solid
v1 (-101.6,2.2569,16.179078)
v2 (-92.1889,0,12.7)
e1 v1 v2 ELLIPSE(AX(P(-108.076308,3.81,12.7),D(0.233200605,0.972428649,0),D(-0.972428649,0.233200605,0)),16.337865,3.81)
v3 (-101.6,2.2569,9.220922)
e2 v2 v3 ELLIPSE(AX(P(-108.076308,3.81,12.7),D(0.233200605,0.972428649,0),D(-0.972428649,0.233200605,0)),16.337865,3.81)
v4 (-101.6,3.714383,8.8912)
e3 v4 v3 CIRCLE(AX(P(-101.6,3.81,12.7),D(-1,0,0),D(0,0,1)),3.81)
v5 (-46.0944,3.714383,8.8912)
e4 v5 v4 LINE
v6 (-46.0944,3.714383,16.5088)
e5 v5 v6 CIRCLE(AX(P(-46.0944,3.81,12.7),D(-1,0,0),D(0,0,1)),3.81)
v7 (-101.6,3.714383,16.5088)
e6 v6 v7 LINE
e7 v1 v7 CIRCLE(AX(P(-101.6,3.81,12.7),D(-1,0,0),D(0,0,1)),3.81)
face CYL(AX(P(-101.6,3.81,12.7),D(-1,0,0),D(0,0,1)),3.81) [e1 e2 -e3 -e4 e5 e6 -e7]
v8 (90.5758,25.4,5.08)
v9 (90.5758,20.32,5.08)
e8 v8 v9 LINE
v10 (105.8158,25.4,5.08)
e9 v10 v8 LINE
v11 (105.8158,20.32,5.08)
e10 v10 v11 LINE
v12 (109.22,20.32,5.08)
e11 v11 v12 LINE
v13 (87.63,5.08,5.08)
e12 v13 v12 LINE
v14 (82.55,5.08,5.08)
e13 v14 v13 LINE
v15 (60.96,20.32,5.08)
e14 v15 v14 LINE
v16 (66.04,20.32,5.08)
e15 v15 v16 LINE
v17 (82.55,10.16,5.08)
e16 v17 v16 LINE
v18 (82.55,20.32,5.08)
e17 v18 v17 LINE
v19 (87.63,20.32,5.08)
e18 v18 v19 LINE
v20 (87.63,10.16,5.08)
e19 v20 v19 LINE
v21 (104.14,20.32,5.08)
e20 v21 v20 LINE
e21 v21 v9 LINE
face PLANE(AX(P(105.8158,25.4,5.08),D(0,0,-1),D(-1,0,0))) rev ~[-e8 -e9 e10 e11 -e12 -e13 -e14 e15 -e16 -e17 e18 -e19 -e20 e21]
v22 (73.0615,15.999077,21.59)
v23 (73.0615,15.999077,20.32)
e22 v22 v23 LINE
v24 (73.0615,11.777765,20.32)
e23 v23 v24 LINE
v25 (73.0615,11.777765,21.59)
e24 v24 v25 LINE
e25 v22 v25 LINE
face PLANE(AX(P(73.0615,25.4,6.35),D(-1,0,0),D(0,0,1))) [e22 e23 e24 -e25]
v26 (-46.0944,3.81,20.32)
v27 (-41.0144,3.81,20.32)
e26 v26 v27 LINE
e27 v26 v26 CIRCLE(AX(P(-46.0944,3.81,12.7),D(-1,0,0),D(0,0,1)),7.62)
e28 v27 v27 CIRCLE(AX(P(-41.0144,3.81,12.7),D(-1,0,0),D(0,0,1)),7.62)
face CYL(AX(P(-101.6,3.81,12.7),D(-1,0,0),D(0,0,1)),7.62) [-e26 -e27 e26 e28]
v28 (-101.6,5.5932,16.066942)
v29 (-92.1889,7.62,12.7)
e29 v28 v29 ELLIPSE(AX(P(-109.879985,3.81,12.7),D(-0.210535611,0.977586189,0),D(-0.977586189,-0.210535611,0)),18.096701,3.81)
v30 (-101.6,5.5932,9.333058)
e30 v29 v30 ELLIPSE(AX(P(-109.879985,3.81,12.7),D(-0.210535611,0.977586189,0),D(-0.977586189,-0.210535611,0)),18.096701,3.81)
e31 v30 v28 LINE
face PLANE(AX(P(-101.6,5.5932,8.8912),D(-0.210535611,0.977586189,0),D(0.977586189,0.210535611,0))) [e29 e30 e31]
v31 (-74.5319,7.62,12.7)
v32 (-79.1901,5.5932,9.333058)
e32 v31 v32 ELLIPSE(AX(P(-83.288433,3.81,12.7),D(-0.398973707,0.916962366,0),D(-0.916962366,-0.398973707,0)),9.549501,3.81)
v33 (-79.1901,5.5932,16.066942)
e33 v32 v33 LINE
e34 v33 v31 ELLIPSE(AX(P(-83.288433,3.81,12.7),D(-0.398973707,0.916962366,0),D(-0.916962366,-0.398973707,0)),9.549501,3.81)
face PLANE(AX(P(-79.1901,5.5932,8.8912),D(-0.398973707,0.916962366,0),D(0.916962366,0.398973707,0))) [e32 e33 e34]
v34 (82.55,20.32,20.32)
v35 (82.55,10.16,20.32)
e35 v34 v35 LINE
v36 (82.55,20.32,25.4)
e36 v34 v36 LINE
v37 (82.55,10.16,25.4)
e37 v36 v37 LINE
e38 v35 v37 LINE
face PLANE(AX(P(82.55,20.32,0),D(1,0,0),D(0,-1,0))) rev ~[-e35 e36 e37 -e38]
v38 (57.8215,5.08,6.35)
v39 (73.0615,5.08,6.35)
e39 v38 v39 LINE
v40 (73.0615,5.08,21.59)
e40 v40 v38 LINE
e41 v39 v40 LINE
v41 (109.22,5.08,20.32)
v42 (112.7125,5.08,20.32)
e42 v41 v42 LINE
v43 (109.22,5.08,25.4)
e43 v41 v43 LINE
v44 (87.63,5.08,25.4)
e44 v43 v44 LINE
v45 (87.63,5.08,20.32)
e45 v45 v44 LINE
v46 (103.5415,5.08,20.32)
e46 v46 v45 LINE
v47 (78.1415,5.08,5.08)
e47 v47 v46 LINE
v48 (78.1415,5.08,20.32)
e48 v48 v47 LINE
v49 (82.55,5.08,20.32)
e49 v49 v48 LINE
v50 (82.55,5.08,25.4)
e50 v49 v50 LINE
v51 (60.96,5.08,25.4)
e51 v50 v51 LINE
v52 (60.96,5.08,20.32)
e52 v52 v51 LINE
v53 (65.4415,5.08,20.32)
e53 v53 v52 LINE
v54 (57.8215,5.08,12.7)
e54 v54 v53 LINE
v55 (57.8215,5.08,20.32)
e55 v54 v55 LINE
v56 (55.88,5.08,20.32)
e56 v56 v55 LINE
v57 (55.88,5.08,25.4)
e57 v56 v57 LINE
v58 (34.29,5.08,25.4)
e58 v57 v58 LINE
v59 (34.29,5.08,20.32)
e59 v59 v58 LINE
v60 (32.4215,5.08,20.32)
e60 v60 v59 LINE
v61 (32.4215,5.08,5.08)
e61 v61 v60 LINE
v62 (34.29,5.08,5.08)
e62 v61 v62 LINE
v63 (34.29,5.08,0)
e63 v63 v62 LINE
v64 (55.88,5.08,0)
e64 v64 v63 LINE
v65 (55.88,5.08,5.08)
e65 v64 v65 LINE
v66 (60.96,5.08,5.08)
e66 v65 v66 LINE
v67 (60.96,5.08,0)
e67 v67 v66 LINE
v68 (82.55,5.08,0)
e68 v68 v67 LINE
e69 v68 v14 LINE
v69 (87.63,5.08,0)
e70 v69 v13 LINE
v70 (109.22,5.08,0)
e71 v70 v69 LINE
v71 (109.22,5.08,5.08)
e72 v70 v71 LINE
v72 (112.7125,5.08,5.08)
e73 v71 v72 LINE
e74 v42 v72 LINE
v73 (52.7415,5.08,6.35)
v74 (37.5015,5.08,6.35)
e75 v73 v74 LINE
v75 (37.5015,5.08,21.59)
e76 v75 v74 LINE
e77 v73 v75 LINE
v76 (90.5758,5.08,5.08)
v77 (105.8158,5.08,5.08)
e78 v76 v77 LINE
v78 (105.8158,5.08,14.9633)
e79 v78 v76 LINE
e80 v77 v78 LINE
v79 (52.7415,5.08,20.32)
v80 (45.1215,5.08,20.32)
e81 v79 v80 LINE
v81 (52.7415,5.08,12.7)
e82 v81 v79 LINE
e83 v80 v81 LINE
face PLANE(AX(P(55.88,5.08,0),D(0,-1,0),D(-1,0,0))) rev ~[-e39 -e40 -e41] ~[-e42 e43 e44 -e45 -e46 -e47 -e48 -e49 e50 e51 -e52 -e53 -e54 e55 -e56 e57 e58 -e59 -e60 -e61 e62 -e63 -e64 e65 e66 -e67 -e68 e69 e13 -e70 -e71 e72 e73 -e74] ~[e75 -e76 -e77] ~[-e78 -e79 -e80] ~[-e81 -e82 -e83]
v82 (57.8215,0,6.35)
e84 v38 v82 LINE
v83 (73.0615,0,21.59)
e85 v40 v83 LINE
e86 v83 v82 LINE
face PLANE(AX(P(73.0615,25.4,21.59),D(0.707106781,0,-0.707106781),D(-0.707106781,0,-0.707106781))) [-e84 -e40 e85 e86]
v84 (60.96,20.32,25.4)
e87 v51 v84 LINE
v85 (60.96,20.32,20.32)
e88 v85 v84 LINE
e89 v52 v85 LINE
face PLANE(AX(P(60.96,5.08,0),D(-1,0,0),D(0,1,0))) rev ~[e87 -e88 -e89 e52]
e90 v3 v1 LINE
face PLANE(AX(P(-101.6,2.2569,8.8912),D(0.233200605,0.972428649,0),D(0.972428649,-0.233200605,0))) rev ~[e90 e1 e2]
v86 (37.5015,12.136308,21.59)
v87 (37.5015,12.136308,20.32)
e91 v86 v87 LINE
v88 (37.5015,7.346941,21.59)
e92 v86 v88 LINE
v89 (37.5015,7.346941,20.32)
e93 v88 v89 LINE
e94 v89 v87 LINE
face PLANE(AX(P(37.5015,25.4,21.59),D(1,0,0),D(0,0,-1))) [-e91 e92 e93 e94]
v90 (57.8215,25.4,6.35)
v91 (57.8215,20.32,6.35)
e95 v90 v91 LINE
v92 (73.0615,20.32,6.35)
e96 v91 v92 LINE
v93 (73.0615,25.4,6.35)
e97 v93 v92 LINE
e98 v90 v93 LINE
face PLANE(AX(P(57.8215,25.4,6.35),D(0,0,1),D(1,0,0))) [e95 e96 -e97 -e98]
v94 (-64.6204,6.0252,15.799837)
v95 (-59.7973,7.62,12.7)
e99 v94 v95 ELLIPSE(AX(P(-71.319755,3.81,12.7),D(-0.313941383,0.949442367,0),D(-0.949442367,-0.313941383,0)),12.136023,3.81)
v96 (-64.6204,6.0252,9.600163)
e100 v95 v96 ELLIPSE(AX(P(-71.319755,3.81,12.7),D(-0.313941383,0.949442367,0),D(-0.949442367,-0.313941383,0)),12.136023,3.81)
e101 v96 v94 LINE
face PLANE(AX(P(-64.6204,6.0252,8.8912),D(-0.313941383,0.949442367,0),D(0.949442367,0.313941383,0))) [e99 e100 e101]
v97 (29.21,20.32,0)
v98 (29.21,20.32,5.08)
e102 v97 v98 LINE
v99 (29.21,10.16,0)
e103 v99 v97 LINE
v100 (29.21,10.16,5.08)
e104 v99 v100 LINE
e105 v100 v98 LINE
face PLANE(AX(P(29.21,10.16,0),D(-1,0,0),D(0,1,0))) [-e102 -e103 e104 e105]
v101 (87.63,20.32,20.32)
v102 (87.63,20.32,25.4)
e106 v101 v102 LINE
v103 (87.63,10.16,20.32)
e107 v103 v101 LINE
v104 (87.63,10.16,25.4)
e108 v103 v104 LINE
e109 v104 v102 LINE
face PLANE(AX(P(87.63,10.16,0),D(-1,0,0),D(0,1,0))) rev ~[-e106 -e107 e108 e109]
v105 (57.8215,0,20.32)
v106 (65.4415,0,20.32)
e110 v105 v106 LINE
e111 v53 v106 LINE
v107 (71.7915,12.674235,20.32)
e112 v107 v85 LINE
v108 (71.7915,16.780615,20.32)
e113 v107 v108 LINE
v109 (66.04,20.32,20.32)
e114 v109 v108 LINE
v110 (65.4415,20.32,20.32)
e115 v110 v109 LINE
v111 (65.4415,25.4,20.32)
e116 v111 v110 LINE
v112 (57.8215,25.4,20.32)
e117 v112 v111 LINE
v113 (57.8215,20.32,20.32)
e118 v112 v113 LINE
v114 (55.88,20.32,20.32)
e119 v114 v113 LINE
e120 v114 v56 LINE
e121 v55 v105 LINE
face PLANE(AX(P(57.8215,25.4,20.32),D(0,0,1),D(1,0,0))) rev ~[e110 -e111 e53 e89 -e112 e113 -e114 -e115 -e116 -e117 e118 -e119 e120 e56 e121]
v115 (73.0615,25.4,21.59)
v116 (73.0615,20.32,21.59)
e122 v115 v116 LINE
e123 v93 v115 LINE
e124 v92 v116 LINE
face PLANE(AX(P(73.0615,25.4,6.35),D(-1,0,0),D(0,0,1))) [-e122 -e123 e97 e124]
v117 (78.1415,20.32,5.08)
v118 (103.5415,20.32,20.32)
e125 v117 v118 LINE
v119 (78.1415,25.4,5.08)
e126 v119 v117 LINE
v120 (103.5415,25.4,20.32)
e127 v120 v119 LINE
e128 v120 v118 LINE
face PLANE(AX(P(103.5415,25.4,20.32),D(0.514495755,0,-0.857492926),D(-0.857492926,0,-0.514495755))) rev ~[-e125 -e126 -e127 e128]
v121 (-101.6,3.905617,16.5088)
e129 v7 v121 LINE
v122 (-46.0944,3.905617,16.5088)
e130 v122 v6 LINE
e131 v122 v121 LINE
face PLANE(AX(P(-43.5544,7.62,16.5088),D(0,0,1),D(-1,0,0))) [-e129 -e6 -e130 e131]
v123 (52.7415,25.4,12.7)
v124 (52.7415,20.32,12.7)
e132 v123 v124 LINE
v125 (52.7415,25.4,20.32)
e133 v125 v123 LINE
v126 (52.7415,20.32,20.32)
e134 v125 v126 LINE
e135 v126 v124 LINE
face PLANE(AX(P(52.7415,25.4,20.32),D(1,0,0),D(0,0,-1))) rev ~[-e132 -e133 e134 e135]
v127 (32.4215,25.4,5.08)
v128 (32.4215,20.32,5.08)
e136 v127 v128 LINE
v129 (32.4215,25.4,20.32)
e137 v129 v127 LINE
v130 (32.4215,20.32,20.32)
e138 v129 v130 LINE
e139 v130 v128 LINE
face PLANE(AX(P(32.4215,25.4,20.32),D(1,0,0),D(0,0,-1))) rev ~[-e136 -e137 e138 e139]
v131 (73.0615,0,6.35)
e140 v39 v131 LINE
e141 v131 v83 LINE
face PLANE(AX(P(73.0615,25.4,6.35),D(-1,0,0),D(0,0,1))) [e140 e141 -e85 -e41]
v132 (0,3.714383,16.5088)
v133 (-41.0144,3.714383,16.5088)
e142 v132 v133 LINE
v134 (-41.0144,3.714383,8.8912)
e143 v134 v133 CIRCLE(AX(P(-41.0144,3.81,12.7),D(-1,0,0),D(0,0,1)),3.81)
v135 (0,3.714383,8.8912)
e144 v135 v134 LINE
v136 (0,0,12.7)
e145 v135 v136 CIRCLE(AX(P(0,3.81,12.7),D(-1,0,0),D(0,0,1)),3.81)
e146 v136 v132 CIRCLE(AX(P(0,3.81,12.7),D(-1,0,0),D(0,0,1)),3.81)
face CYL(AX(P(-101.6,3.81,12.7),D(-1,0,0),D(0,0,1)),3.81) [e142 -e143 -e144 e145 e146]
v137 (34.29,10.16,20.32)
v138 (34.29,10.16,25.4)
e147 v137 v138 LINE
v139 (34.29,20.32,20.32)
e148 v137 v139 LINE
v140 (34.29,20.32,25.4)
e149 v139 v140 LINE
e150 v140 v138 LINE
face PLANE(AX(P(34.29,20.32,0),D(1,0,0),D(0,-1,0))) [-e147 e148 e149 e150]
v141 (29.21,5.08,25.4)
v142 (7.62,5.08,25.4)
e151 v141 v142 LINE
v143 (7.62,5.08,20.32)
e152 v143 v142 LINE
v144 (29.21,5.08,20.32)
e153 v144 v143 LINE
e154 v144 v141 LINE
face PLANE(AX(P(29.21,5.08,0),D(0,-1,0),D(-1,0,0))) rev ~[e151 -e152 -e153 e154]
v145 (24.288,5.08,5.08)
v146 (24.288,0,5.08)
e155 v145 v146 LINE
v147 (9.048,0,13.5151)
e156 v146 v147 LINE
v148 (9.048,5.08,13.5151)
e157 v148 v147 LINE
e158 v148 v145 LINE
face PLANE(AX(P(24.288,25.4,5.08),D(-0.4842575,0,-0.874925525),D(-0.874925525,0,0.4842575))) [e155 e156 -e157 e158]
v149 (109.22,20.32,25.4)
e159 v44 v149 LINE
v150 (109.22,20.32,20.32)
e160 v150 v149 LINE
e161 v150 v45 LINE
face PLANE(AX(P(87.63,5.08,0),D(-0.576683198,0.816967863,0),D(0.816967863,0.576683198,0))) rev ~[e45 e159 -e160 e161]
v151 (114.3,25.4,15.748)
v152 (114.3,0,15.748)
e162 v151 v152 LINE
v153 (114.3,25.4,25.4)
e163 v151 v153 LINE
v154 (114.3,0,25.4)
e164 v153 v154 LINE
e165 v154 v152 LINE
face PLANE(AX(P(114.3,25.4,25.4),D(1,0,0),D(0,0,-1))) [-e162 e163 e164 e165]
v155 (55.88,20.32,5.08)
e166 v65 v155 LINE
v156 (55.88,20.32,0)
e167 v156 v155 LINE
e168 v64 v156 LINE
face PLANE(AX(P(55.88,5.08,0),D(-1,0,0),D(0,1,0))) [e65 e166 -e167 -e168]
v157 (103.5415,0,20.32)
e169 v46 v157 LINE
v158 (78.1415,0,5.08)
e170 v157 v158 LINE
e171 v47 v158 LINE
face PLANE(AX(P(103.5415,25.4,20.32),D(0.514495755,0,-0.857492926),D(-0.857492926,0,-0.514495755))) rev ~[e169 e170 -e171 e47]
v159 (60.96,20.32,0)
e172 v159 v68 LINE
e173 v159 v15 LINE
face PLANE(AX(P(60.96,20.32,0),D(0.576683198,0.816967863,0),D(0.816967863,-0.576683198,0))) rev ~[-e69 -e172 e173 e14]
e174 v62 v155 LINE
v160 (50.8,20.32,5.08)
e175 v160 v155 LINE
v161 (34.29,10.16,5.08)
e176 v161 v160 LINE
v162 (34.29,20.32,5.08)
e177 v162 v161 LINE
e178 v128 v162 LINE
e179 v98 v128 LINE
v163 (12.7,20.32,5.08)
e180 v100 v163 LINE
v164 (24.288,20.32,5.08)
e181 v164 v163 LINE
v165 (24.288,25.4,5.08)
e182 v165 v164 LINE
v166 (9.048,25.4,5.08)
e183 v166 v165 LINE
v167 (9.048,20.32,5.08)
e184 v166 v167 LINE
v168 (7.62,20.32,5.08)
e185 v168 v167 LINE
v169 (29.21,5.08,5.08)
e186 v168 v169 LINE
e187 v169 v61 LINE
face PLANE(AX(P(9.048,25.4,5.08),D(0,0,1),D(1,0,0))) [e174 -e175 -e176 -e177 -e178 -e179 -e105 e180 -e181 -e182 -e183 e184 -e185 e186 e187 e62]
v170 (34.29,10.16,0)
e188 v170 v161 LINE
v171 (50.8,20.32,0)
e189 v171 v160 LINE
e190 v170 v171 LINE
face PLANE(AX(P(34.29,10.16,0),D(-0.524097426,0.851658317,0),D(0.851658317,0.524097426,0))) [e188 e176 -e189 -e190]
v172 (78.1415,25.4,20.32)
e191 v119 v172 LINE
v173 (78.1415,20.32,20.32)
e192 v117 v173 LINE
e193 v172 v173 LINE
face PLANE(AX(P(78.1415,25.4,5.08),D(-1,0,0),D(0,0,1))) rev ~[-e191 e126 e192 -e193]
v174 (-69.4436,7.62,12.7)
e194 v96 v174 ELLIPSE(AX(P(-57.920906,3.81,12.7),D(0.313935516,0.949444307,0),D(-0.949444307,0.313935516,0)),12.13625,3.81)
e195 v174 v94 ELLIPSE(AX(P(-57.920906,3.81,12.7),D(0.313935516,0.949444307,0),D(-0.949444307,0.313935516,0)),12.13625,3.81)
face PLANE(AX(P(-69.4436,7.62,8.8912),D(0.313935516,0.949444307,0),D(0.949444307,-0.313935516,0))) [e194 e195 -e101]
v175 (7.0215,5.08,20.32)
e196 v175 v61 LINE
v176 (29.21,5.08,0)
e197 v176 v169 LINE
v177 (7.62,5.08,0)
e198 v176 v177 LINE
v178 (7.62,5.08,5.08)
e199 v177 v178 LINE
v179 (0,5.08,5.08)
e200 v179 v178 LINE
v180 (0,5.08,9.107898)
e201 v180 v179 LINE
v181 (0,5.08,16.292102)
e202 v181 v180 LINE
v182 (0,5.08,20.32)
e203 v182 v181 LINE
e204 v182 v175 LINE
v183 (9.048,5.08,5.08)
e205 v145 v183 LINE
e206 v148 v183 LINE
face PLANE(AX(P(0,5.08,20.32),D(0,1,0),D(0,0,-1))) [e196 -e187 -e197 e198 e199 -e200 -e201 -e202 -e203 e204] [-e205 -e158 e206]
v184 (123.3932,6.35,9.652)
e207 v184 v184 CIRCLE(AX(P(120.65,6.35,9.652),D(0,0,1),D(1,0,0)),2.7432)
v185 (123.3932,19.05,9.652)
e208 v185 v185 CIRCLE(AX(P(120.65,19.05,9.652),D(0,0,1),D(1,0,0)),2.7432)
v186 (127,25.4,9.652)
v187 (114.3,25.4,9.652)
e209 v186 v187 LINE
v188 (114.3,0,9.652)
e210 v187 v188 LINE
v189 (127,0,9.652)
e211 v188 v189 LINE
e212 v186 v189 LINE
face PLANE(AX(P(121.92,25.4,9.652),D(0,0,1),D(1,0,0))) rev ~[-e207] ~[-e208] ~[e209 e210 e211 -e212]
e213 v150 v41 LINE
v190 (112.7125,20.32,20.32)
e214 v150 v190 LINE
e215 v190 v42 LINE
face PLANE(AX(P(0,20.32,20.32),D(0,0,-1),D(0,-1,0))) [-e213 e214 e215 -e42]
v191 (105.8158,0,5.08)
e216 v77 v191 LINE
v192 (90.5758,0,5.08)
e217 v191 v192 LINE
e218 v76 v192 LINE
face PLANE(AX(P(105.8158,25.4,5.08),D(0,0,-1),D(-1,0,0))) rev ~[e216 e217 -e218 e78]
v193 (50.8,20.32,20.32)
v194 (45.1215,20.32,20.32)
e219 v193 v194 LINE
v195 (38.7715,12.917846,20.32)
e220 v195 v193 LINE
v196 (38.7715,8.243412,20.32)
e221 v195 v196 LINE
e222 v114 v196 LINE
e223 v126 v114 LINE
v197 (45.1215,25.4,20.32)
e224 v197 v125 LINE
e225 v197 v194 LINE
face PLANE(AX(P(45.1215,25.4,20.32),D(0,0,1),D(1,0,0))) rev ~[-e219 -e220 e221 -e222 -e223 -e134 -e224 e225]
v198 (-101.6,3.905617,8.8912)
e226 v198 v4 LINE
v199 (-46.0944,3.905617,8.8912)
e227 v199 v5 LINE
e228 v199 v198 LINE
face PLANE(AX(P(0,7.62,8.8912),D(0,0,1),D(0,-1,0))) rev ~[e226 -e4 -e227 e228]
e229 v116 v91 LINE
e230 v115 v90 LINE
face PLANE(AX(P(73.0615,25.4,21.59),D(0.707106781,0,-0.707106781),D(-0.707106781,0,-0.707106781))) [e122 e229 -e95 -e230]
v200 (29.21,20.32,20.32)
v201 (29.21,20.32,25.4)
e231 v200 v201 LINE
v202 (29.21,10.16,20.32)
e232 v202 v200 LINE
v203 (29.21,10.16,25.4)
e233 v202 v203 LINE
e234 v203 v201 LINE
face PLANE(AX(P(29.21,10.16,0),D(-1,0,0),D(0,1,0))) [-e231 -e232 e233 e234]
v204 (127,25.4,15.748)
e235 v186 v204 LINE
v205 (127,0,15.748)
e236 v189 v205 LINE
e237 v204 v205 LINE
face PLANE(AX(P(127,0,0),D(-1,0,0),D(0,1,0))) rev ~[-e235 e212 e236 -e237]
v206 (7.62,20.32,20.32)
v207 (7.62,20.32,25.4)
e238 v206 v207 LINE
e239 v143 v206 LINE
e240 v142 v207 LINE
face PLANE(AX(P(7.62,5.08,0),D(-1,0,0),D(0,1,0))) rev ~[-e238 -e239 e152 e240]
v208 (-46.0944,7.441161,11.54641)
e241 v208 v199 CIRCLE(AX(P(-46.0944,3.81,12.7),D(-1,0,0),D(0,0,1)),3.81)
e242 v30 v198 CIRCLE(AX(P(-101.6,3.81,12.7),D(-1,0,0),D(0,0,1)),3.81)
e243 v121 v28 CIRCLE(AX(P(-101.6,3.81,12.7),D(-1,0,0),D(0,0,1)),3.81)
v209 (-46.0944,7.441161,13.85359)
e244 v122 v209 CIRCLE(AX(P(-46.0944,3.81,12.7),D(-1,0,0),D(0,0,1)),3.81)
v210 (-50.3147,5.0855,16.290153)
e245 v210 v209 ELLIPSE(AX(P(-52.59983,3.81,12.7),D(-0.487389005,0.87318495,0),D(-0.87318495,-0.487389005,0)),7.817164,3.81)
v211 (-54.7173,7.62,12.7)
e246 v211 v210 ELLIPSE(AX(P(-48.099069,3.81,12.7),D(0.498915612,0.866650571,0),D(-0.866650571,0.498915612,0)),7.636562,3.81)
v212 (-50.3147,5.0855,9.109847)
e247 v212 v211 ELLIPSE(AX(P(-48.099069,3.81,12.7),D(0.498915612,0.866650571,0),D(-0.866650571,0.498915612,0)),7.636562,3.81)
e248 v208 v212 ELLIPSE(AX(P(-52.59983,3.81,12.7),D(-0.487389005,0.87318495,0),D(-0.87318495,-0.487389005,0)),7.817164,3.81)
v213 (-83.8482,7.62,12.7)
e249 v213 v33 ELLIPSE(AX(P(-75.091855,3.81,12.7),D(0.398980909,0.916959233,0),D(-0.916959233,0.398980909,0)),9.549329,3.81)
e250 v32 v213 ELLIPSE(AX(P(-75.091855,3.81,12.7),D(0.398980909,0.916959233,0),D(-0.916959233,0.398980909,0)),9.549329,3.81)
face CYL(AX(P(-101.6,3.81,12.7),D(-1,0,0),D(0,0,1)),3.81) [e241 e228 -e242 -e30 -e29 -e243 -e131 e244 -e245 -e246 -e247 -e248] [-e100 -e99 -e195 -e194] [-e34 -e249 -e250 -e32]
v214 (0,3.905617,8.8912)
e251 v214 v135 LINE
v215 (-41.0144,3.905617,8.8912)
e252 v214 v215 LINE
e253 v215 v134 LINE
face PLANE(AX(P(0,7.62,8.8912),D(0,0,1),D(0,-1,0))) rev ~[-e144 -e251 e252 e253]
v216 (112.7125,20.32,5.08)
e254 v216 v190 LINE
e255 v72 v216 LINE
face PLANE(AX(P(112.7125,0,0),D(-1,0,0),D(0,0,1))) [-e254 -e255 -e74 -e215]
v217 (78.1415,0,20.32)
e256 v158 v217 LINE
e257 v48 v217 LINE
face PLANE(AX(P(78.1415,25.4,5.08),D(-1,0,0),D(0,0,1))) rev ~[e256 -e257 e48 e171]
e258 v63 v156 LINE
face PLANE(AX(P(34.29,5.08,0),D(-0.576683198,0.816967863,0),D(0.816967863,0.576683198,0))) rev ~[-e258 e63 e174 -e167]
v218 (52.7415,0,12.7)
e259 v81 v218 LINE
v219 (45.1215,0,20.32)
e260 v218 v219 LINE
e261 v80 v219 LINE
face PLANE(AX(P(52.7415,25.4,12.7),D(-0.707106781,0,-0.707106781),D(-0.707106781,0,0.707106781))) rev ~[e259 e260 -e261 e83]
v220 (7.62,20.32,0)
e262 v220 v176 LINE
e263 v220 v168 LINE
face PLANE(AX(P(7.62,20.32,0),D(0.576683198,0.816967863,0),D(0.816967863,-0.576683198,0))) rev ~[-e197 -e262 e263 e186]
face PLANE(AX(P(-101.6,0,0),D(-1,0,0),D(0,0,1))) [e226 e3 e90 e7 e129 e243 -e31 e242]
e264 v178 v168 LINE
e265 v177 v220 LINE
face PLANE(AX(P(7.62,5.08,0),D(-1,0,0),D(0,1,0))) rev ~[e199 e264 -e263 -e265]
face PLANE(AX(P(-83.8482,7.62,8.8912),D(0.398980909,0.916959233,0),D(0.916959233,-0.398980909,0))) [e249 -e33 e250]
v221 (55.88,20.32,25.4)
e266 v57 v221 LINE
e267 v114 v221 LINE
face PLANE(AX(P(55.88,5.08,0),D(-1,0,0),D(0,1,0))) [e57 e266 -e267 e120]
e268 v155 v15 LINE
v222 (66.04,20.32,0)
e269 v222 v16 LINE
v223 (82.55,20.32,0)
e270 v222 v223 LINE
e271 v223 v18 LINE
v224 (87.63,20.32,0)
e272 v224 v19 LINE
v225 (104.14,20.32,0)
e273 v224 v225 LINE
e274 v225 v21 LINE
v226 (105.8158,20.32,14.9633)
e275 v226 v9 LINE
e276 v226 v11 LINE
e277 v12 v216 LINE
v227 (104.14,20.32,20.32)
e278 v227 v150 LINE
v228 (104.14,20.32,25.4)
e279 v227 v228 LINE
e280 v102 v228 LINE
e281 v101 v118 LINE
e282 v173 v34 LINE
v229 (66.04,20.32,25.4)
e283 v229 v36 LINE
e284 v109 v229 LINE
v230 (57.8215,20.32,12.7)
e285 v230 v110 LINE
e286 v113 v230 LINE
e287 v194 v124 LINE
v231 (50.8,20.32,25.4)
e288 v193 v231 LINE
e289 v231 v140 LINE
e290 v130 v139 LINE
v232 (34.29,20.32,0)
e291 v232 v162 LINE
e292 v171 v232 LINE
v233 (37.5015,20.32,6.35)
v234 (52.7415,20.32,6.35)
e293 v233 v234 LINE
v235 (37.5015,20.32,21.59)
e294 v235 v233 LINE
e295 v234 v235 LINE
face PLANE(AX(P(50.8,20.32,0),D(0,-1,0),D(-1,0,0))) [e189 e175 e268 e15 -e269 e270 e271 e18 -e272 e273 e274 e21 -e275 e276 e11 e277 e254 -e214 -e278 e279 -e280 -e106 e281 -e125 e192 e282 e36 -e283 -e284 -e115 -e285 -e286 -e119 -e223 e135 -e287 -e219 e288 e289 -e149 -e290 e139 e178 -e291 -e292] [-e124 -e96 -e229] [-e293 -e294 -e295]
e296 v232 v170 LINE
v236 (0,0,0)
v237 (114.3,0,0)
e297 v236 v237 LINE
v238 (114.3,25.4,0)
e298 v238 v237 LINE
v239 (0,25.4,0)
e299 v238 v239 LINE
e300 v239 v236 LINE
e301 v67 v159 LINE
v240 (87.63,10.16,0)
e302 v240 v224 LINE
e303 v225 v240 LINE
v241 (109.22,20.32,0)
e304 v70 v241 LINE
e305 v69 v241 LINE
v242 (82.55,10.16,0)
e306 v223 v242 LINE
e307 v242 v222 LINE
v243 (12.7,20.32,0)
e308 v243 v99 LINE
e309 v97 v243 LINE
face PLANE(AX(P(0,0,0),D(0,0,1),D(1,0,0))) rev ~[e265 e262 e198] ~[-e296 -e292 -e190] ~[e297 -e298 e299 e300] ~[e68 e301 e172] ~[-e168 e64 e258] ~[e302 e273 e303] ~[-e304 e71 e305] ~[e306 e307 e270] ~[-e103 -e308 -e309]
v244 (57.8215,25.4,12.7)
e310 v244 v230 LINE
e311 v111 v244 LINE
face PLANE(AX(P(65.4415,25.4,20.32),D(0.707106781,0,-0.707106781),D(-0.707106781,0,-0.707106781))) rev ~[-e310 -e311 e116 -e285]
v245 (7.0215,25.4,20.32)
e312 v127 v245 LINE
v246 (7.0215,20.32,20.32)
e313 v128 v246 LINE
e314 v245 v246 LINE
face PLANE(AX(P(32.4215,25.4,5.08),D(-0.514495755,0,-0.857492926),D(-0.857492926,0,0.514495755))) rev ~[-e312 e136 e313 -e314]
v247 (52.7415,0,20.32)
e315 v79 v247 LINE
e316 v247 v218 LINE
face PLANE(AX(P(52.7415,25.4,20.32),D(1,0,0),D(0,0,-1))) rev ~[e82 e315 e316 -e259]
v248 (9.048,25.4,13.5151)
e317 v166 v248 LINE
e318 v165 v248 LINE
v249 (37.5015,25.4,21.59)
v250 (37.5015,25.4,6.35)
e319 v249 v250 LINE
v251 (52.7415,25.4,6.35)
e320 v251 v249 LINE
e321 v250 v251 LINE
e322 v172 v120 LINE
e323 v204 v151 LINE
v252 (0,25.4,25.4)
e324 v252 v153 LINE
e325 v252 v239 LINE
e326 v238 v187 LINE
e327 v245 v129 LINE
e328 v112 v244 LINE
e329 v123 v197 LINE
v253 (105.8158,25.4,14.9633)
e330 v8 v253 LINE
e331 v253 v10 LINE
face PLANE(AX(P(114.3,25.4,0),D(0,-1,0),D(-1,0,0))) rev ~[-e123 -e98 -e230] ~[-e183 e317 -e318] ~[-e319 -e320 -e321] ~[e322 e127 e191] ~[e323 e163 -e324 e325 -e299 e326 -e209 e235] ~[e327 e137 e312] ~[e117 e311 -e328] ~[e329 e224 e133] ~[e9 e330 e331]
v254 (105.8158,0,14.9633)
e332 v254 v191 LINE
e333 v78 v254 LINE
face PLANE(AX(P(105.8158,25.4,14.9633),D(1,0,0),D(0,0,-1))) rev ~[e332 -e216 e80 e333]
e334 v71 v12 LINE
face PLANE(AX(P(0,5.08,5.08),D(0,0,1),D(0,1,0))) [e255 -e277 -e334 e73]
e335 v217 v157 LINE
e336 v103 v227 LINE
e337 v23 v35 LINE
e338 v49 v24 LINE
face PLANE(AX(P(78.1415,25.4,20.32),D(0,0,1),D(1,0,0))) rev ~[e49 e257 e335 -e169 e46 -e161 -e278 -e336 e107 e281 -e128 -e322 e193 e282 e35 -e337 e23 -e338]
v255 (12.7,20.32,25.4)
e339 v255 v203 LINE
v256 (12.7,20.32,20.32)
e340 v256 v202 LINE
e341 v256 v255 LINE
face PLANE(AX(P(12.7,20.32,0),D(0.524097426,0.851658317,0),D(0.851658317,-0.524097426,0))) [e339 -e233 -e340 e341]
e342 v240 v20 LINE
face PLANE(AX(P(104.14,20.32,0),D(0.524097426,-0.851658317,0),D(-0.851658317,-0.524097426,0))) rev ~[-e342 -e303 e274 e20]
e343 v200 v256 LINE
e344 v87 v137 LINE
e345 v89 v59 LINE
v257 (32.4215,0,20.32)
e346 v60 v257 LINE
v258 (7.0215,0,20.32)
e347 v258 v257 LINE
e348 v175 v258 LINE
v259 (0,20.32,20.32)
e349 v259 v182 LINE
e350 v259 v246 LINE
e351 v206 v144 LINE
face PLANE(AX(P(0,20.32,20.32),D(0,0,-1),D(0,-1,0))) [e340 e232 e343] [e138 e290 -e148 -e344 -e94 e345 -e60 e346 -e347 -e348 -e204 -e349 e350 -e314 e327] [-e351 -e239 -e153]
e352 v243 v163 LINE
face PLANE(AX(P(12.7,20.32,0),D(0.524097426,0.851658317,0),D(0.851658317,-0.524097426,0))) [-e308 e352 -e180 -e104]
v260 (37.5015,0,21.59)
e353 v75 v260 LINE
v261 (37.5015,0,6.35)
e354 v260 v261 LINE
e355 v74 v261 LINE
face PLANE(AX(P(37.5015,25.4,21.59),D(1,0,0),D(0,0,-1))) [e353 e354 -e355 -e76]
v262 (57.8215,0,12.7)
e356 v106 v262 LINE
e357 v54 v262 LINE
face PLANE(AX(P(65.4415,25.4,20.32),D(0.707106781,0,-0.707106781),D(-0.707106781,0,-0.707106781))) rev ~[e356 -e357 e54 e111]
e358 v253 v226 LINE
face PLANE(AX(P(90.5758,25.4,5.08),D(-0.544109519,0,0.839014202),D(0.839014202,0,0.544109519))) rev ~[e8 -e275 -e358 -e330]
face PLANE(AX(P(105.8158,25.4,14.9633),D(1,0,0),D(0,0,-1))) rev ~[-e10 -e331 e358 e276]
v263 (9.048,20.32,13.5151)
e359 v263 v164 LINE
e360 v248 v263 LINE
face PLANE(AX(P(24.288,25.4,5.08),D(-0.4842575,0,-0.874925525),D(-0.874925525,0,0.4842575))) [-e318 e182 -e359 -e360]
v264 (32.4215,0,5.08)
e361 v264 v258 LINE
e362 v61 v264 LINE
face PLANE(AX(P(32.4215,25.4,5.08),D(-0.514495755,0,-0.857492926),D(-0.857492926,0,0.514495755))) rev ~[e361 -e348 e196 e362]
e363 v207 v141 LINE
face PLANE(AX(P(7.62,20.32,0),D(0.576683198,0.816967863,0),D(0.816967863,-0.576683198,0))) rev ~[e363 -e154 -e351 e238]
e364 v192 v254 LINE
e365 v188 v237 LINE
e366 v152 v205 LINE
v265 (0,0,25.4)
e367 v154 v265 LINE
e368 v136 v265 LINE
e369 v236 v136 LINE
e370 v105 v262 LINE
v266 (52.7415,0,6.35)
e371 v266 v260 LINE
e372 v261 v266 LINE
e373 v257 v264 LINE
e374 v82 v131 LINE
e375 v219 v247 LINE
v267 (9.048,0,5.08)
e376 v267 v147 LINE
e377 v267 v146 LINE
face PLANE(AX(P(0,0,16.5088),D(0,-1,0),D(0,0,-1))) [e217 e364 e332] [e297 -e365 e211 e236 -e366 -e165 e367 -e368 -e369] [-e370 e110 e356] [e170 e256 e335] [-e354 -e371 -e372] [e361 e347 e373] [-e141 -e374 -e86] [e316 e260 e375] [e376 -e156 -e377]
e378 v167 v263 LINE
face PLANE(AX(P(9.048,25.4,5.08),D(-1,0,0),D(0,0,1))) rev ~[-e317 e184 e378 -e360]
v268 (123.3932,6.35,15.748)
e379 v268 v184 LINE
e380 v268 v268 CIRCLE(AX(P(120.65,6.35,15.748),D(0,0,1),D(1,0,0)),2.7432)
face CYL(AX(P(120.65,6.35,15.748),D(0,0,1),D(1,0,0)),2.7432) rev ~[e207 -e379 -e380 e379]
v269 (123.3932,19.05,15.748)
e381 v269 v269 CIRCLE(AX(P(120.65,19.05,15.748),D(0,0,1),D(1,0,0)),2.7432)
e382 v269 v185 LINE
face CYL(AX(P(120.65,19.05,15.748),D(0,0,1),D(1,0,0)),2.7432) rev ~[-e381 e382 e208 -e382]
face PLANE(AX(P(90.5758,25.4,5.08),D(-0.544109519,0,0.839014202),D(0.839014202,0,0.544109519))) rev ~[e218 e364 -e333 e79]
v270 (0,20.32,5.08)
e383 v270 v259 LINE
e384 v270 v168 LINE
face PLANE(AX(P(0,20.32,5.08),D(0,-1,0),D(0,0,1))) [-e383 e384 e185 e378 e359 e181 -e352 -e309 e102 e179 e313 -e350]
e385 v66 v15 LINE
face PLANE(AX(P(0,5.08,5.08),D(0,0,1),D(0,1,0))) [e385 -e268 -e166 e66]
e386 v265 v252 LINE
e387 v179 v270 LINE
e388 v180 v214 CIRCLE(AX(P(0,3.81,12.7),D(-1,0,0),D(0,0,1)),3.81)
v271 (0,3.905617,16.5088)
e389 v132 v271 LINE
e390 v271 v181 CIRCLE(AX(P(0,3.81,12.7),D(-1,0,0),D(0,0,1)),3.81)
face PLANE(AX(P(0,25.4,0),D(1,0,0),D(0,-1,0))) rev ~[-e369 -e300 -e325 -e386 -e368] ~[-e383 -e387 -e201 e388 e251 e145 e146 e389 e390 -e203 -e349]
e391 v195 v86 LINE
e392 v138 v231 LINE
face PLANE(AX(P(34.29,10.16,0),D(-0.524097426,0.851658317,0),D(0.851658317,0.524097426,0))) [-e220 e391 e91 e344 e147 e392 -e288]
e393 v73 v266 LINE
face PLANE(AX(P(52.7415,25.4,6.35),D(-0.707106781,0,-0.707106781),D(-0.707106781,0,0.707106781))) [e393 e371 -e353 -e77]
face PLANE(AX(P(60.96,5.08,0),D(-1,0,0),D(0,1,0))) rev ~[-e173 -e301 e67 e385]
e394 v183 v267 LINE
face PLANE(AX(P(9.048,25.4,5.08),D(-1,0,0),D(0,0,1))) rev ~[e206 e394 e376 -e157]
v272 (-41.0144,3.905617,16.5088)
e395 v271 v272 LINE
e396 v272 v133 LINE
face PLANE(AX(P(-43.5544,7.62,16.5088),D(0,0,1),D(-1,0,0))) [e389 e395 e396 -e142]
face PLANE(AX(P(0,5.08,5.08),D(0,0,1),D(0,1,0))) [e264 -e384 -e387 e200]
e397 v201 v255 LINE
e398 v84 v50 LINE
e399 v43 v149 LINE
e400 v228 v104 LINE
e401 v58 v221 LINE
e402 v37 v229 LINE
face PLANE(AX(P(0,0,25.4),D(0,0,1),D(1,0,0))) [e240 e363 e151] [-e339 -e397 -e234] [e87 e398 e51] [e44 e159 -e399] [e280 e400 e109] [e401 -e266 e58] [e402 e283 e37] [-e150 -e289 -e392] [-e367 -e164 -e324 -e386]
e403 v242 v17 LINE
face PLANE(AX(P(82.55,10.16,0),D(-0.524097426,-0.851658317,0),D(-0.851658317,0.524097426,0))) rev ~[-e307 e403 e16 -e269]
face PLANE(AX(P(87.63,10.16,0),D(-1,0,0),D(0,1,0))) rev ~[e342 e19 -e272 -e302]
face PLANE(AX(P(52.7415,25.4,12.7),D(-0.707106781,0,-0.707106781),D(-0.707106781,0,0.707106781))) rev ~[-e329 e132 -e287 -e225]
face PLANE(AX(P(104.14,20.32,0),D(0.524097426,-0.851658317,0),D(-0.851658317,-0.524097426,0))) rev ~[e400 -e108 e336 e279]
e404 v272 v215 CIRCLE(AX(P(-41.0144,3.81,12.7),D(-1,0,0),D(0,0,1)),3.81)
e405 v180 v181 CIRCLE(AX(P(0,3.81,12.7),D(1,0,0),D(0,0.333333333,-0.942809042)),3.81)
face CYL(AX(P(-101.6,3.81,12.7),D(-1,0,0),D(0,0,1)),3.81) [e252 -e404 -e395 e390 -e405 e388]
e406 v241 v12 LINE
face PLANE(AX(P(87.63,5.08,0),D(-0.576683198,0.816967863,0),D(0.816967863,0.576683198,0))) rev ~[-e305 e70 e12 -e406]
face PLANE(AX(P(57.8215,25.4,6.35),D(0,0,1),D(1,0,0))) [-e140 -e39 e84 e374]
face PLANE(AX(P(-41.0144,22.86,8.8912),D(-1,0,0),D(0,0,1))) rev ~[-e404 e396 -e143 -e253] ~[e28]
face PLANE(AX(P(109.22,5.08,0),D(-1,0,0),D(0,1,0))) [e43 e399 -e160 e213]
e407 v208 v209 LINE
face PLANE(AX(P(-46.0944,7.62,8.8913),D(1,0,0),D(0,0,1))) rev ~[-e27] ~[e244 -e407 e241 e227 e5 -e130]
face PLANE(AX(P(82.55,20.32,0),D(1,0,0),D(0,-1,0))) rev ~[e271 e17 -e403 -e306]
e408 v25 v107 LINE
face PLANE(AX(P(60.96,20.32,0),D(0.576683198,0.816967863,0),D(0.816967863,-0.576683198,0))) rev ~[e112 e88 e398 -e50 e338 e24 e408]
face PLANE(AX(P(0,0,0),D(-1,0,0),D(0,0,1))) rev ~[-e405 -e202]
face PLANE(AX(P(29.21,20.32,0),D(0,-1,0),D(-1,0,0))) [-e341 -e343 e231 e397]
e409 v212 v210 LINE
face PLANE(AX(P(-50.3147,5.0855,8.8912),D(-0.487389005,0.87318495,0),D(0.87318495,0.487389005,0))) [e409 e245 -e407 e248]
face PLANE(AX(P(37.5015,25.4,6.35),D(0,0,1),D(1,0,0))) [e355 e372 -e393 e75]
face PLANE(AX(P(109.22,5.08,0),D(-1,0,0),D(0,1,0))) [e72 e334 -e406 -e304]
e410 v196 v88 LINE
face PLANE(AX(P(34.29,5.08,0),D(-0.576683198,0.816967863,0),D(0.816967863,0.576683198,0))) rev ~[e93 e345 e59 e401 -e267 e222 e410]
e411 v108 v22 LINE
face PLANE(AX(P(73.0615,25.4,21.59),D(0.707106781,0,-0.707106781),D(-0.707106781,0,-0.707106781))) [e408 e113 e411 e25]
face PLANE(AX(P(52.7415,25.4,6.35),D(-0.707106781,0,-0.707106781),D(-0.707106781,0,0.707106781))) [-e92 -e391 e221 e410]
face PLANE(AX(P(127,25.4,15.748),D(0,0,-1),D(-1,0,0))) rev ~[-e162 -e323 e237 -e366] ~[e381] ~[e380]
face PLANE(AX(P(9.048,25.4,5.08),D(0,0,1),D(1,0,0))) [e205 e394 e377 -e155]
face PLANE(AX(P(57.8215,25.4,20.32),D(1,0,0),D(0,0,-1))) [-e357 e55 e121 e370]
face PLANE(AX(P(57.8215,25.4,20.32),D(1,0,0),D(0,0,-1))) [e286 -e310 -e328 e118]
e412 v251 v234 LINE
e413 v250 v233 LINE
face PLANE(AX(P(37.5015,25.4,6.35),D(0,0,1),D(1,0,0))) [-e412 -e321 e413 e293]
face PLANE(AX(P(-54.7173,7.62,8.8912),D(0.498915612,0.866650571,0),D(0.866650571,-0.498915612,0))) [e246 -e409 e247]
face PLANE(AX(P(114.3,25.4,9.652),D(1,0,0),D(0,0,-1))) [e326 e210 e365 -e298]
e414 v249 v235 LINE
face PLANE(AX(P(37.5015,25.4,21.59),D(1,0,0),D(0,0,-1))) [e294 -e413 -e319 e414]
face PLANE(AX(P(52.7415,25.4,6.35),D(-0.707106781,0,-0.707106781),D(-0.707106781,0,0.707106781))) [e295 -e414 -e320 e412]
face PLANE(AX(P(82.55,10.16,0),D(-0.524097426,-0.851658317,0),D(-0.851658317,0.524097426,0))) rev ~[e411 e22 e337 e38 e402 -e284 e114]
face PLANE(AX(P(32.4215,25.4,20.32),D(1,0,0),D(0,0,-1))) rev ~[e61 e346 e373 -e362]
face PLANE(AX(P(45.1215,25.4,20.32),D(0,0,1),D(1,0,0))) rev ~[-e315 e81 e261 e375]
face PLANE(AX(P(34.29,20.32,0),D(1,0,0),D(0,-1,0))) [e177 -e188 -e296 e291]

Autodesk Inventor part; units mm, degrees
ref_plane "YZ Plane" through (0, 0, 0) normal (1, 0, 0) x (0, 1, 0)
ref_plane "XZ Plane" through (0, 0, 0) normal (0, 1, 0) x (-1, 0, 0)
ref_plane "XY Plane" through (0, 0, 0) normal (0, 0, 1) x (1, 0, 0)
sketch "Sketch1" plane through (0, 0, 0) normal (0, 0, 1) x (1, 0, 0)
  line L0 (0, 0) -> (127, 0)
  line L1 (127, 0) -> (127, 25.4)
  line L2 (127, 25.4) -> (0, 25.4)
  line L3 (0, 25.4) -> (0, 0)
  line L4 (114.3, 0) -> (114.3, 25.4)
  line L5 (109.22, 5.08) -> (109.22, 20.32)
  line L6 (109.22, 5.08) -> (87.63, 5.08)
  line L7 (87.63, 5.08) -> (109.22, 20.32)
  line L8 (82.55, 5.08) -> (60.96, 5.08)
  line L9 (60.96, 5.08) -> (60.96, 20.32)
  line L10 (60.96, 20.32) -> (82.55, 5.08)
  line L11 (55.88, 5.08) -> (55.88, 20.32)
  line L12 (55.88, 5.08) -> (34.29, 5.08)
  line L13 (34.29, 5.08) -> (55.88, 20.32)
  line L14 (29.21, 5.08) -> (7.62, 5.08)
  line L15 (7.62, 5.08) -> (7.62, 20.32)
  line L16 (7.62, 20.32) -> (29.21, 5.08)
  line L17 (87.63, 10.16) -> (87.63, 20.32)
  line L18 (87.63, 20.32) -> (104.14, 20.32)
  line L19 (104.14, 20.32) -> (87.63, 10.16)
  line L20 (66.04, 20.32) -> (82.55, 20.32)
  line L21 (82.55, 20.32) -> (82.55, 10.16)
  line L22 (82.55, 10.16) -> (66.04, 20.32)
  line L23 (50.8, 20.32) -> (34.29, 20.32)
  line L24 (34.29, 20.32) -> (34.29, 10.16)
  line L25 (34.29, 10.16) -> (50.8, 20.32)
  line L26 (29.21, 10.16) -> (29.21, 20.32)
  line L27 (29.21, 20.32) -> (12.7, 20.32)
  line L28 (12.7, 20.32) -> (29.21, 10.16)
  line L29 (120.65, 25.4) -> (120.65, 0)
  circle A0 centre (120.65, 19.05) radius 2.7432
  circle A1 centre (120.65, 6.35) radius 2.7432
  dimension "d0" = 127
  dimension "d1" = 25.4
  dimension "d3" = 12.7
  dimension "d4" = 15.24
  dimension "d5" = 21.59
  dimension "d6" = 21.59
  dimension "d7" = 21.59
  dimension "d8" = 21.59
  dimension "d9" = 16.51
  dimension "d10" = 16.51
  dimension "d63" = 5.08
  dimension "d64" = 5.08
  dimension "d100" = 5.4864
  dimension "d101" = 5.4864
extrude "Extrusion1" add sketch "Sketch1" along normal blind 25.4
sketch "Sketch3" plane through (0, 25.4, 0) normal (0, 1, 0) x (1, 0, 0)
  line L0 (127, -25.4) -> (0, -25.4) projected
  line L1 (127, 0) -> (0, 0) projected
  line L2 (0, 0) -> (0, -25.4) projected
  line L3 (0, -25.4) -> (127, -25.4) projected
  line L4 (0, 0) -> (5.08, 0)
  line L5 (5.08, 0) -> (5.08, -25.4)
  line L6 (5.08, -25.4) -> (0, -25.4)
  line L7 (0, -25.4) -> (0, 0)
  line L8 (127, 0) -> (121.92, 0)
  line L9 (121.92, 0) -> (121.92, -25.4)
  line L10 (121.92, -25.4) -> (127, -25.4)
  line L11 (127, -25.4) -> (127, 0)
  line L12 (5.08, 0) -> (121.92, 0)
  line L13 (121.92, 0) -> (121.92, -5.08)
  line L14 (121.92, -5.08) -> (5.08, -5.08)
  line L15 (5.08, -5.08) -> (5.08, 0)
  line L16 (121.92, -25.4) -> (5.08, -25.4)
  line L17 (5.08, -25.4) -> (5.08, -20.32)
  line L18 (5.08, -20.32) -> (121.92, -20.32)
  line L19 (121.92, -20.32) -> (121.92, -25.4)
  line L20 (127, 0) -> (127, -25.4) projected
  line L21 (127, -12.7) -> (114.3, -12.7)
  line L22 (127, -15.748) -> (114.3, -15.748)
  line L23 (114.3, -15.748) -> (114.3, -9.652)
  line L24 (114.3, -9.652) -> (127, -9.652)
  line L25 (127, -9.652) -> (127, -15.748)
  line L26 (127, -15.748) -> (114.3, -9.652) construction
  line L27 (114.3, -15.748) -> (127, -9.652) construction
  line L28 (114.3, -25.4) -> (114.3, 0)
  line L29 (0, 0) -> (127, 0) projected
  line L30 (114.3, -9.652) -> (127, -9.652)
  line L31 (127, -15.748) -> (114.3, -15.748)
  point P0 (109.22, -25.4)
  point P1 (120.65, -12.7)
  point P2 (121.92, -9.652)
  dimension "d13" = 25.4
  dimension "d14" = 5.08
  dimension "d15" = 5.08
  dimension "d16" = 5.08
  dimension "d17" = 5.08
  dimension "d18" = 17.78
  dimension "d19" = 12.7
  dimension "d20" = 6.096
extrude "Extrusion2" cut sketch "Sketch3" against normal blind 25.4 contours L0 L9 L22 L11 | L0 L28 L18 L9 | L18 L28 L22 L9 | L24 L9 L1 L11 | L24 L28 L14 L9 | L9 L14 L28 L1
sketch "Sketch4" plane through (0, 25.4, 25.4) normal (0, 1, 0) x (1, 0, 0)
  line L0 (127, 0) -> (127, 25.4)
  line L1 (127, 25.4) -> (0, 25.4)
  line L2 (0, 25.4) -> (0, 0)
  line L3 (7.0215, 5.08) -> (32.4215, 5.08)
  line L4 (32.4215, 5.08) -> (32.4215, 20.32)
  line L5 (32.4215, 20.32) -> (7.0215, 5.08)
  line L6 (37.5015, 3.81) -> (37.5015, 19.05)
  line L7 (37.5015, 19.05) -> (52.7415, 19.05)
  line L8 (52.7415, 19.05) -> (37.5015, 3.81)
  line L9 (57.8215, 19.05) -> (73.0615, 19.05)
  line L10 (73.0615, 19.05) -> (73.0615, 3.81)
  line L11 (73.0615, 3.81) -> (57.8215, 19.05)
  line L12 (78.1415, 20.32) -> (78.1415, 5.08)
  line L13 (78.1415, 5.08) -> (103.5415, 5.08)
  line L14 (103.5415, 5.08) -> (78.1415, 20.32)
  line L15 (9.048, 20.32) -> (9.048, 11.8849)
  line L16 (9.048, 20.32) -> (24.288, 20.32)
  line L17 (24.288, 20.32) -> (9.048, 11.8849)
  line L18 (45.1215, 5.08) -> (52.7415, 5.08)
  line L19 (52.7415, 5.08) -> (52.7415, 12.7)
  line L20 (52.7415, 12.7) -> (45.1215, 5.08)
  line L21 (57.8215, 5.08) -> (57.8215, 12.7)
  line L22 (57.8215, 5.08) -> (65.4415, 5.08)
  line L23 (65.4415, 5.08) -> (57.8215, 12.7)
  line L24 (105.8158, 10.4367) -> (105.8158, 20.32)
  line L25 (105.8158, 20.32) -> (90.5758, 20.32)
  line L26 (90.5758, 20.32) -> (105.8158, 10.4367)
  line L27 (0, 0) -> (127, 0)
  line L28 (114.3, 0) -> (0, 0) projected
  point P0 (0, 25.4)
  point P1 (26.0715, 5.08)
  dimension "d40" = 127
  dimension "d41" = 25.4
  dimension "d42" = 25.4
  dimension "d43" = 15.24
  dimension "d44" = 15.24
  dimension "d45" = 15.24
  dimension "d46" = 15.24
  dimension "d47" = 25.4
  dimension "d48" = 15.24
  dimension "d49" = 7.62
  dimension "d50" = 7.62
  dimension "d51" = 15.24
  dimension "d52" = 2
  dimension "d53" = 2
  dimension "d65" = 5.08
  dimension "d66" = 5.08
  dimension "d67" = 5.08
  dimension "d68" = 5.08
  dimension "d69" = 6.35
  dimension "d70" = 5.08
  dimension "d71" = 5.08
extrude "Extrusion3" cut sketch "Sketch4" against normal blind 25.4 contours L5 L4 L3 | L6 L7 L8 | L9 L10 L11 | L14 L13 L12 | L16 L17 L15 | L20 L19 L18 | L21 L23 L22 | L26 L25 L24
sketch "Sketch5" plane through (0, 0, 0) normal (-1, 0, 0) x (0, 0, 1)
  line L0 (20.32, 5.08) -> (5.08, 5.08)
  line L1 (5.08, 5.08) -> (5.08, 20.32)
  line L2 (5.08, 20.32) -> (20.32, 20.32)
  line L3 (20.32, 20.32) -> (20.32, 5.08)
  line L4 (0, 0) -> (25.4, 0) projected
  line L5 (0, 25.4) -> (25.4, 25.4) projected
  line L6 (25.4, 25.4) -> (25.4, 0) projected
  line L7 (0, 25.4) -> (0, 0) projected
  dimension "d57" = 5.08
  dimension "d58" = 5.08
  dimension "d59" = 5.08
  dimension "d60" = 5.08
extrude "Extrusion4" cut sketch "Sketch5" against normal blind 112.7125 contours L0 L1 L2 L3
sketch "Sketch8" plane through (0, 0, 0) normal (0, -1, 0) x (1, 0, 0)
  point P0 (0, 0)
sketch "Sketch9" plane through (0, 0, 0) normal (-1, 0, 0) x (0, 0, 1)
  line L0 (20.32, 0) -> (5.08, 0) projected
  line L1 (16.5088, 7.62) -> (8.8912, 7.62)
  line L2 (8.8912, 7.62) -> (8.8912, 0)
  line L3 (8.8912, 0) -> (16.5088, 0)
  line L4 (16.5088, 0) -> (16.5088, 7.62)
  line L5 (12.7, 5.08) -> (12.7, 0) projected
  line L6 (16.5088, 7.62) -> (8.8912, 0) construction
  line L7 (8.8912, 7.62) -> (16.5088, 0) construction
  point P0 (0, 0)
  point P1 (12.7, 3.81)
extrude "Extrusion7" add sketch "Sketch9" along normal blind 101.6
sketch "Sketch10" plane through (0, 5.08, 8.8912) normal (0, 0, -1) x (-1, 0, 0)
  line L0 (101.6, 2.54) -> (101.6, -5.08) projected
  line L1 (101.6, 0.5132) -> (92.1889, 2.54)
  line L2 (0, 2.54) -> (101.6, 2.54) projected
  line L3 (101.6, -2.8231) -> (92.1889, -5.08)
  line L4 (0, -5.08) -> (101.6, -5.08) projected
  line L5 (83.8482, 2.54) -> (79.1901, 0.5132)
  line L6 (79.1901, 0.5132) -> (74.5319, 2.54)
  line L7 (69.4436, 2.54) -> (64.6204, 0.9452)
  line L8 (64.6204, 0.9452) -> (59.7973, 2.54)
  line L9 (59.7973, 2.54) -> (54.7173, 2.54)
  line L10 (54.7173, 2.54) -> (50.3147, 0.0055)
  line L11 (50.3147, 0.0055) -> (45.774, 2.54)
  dimension "d80" = 5.08
  dimension "d81" = 5.08
  dimension "d82" = 5.08
  dimension "d83" = 5.08
  dimension "d84" = 5.08
  dimension "d85" = 5.08
  dimension "d86" = 55.826
extrude "Extrusion8" cut sketch "Sketch10" against normal blind 101.6
sketch "Sketch11" plane through (-101.6, 0, 0) normal (-1, 0, 0) x (0, 0, 1)
  line L0 (12.7, 25.4) -> (12.7, 0) projected
  circle A0 centre (12.7, 3.81) radius 3.81
  line L1 (16.5088, 7.62) -> (8.8912, 7.62) projected
  line L2 (19.5843, -3.2588) -> (5.8157, -3.2588)
  line L3 (5.8157, -3.2588) -> (5.8157, 10.8788)
  line L4 (5.8157, 10.8788) -> (19.5843, 10.8788)
  line L5 (19.5843, 10.8788) -> (19.5843, -3.2588)
  line L6 (19.5843, -3.2588) -> (5.8157, 10.8788) construction
  line L7 (5.8157, -3.2588) -> (19.5843, 10.8788) construction
  point P0 (0, 0)
  point P1 (12.7, 5.08)
sketch "Sketch12" plane through (0, 7.62, 16.5088) normal (0, 1, 0) x (1, 0, 0)
  line L0 (0, 0) -> (-92.1889, 0) projected
  line L1 (0, 7.6175) -> (-45.774, 7.6175) projected
  line L2 (-46.0944, 0) -> (-43.5544, 0)
  line L3 (-43.5544, 0) -> (-43.5544, 7.6175)
  line L4 (-43.5544, 7.6175) -> (-46.0944, 7.6175)
  line L5 (-46.0944, 7.6175) -> (-46.0944, 0)
  point P0 (0, 16.5088)
  dimension "d89" = 2.54
extrude "Extrusion9" add sketch "Sketch12" along normal blind 15.24
extrude "Extrusion10" cut sketch "Sketch11" against normal blind 101.6
sketch "Sketch13" plane through (-46.0944, 22.86, 8.8912) normal (-1, 0, 0) x (0, 0, 1)
  line L0 (3.8088, 2.54) -> (3.8088, -22.86) projected
  circle A0 centre (3.8088, -19.05) radius 7.62
  point P0 (-8.8912, -22.86)
  point P1 (3.8088, -17.78)
  dimension "d94" = 15.24
extrude "Extrusion11" add sketch "Sketch13" against normal blind 5.08
sketch "Sketch14" plane through (-101.6, 0, 0) normal (-1, 0, 0) x (0, 0, 1)
  line L0 (12.7, 25.4) -> (12.7, 0) projected
  circle A0 centre (12.7, 3.81) radius 7.62
  circle A1 centre (12.7, 3.81) radius 21.733
  point P0 (0, 0)
  point P1 (12.7, 5.08)
  dimension "d97" = 15.24
extrude "Extrusion12" cut sketch "Sketch14" against normal blind 101.6
sketch "Sketch15" plane through (114.3, 25.4, 15.748) normal (0, 0, 1) x (1, 0, 0)
  circle A0 centre (6.35, -19.05) radius 2.7432
  circle A1 centre (6.35, -6.35) radius 2.7432
  point P0 (-114.3, -25.4)
  dimension "d102" = 5.4864
  dimension "d103" = 5.4864
extrude "Extrusion13" cut sketch "Sketch15" against normal blind 25.4
properties part number "Final design part 2" material "ABS Plastic"
